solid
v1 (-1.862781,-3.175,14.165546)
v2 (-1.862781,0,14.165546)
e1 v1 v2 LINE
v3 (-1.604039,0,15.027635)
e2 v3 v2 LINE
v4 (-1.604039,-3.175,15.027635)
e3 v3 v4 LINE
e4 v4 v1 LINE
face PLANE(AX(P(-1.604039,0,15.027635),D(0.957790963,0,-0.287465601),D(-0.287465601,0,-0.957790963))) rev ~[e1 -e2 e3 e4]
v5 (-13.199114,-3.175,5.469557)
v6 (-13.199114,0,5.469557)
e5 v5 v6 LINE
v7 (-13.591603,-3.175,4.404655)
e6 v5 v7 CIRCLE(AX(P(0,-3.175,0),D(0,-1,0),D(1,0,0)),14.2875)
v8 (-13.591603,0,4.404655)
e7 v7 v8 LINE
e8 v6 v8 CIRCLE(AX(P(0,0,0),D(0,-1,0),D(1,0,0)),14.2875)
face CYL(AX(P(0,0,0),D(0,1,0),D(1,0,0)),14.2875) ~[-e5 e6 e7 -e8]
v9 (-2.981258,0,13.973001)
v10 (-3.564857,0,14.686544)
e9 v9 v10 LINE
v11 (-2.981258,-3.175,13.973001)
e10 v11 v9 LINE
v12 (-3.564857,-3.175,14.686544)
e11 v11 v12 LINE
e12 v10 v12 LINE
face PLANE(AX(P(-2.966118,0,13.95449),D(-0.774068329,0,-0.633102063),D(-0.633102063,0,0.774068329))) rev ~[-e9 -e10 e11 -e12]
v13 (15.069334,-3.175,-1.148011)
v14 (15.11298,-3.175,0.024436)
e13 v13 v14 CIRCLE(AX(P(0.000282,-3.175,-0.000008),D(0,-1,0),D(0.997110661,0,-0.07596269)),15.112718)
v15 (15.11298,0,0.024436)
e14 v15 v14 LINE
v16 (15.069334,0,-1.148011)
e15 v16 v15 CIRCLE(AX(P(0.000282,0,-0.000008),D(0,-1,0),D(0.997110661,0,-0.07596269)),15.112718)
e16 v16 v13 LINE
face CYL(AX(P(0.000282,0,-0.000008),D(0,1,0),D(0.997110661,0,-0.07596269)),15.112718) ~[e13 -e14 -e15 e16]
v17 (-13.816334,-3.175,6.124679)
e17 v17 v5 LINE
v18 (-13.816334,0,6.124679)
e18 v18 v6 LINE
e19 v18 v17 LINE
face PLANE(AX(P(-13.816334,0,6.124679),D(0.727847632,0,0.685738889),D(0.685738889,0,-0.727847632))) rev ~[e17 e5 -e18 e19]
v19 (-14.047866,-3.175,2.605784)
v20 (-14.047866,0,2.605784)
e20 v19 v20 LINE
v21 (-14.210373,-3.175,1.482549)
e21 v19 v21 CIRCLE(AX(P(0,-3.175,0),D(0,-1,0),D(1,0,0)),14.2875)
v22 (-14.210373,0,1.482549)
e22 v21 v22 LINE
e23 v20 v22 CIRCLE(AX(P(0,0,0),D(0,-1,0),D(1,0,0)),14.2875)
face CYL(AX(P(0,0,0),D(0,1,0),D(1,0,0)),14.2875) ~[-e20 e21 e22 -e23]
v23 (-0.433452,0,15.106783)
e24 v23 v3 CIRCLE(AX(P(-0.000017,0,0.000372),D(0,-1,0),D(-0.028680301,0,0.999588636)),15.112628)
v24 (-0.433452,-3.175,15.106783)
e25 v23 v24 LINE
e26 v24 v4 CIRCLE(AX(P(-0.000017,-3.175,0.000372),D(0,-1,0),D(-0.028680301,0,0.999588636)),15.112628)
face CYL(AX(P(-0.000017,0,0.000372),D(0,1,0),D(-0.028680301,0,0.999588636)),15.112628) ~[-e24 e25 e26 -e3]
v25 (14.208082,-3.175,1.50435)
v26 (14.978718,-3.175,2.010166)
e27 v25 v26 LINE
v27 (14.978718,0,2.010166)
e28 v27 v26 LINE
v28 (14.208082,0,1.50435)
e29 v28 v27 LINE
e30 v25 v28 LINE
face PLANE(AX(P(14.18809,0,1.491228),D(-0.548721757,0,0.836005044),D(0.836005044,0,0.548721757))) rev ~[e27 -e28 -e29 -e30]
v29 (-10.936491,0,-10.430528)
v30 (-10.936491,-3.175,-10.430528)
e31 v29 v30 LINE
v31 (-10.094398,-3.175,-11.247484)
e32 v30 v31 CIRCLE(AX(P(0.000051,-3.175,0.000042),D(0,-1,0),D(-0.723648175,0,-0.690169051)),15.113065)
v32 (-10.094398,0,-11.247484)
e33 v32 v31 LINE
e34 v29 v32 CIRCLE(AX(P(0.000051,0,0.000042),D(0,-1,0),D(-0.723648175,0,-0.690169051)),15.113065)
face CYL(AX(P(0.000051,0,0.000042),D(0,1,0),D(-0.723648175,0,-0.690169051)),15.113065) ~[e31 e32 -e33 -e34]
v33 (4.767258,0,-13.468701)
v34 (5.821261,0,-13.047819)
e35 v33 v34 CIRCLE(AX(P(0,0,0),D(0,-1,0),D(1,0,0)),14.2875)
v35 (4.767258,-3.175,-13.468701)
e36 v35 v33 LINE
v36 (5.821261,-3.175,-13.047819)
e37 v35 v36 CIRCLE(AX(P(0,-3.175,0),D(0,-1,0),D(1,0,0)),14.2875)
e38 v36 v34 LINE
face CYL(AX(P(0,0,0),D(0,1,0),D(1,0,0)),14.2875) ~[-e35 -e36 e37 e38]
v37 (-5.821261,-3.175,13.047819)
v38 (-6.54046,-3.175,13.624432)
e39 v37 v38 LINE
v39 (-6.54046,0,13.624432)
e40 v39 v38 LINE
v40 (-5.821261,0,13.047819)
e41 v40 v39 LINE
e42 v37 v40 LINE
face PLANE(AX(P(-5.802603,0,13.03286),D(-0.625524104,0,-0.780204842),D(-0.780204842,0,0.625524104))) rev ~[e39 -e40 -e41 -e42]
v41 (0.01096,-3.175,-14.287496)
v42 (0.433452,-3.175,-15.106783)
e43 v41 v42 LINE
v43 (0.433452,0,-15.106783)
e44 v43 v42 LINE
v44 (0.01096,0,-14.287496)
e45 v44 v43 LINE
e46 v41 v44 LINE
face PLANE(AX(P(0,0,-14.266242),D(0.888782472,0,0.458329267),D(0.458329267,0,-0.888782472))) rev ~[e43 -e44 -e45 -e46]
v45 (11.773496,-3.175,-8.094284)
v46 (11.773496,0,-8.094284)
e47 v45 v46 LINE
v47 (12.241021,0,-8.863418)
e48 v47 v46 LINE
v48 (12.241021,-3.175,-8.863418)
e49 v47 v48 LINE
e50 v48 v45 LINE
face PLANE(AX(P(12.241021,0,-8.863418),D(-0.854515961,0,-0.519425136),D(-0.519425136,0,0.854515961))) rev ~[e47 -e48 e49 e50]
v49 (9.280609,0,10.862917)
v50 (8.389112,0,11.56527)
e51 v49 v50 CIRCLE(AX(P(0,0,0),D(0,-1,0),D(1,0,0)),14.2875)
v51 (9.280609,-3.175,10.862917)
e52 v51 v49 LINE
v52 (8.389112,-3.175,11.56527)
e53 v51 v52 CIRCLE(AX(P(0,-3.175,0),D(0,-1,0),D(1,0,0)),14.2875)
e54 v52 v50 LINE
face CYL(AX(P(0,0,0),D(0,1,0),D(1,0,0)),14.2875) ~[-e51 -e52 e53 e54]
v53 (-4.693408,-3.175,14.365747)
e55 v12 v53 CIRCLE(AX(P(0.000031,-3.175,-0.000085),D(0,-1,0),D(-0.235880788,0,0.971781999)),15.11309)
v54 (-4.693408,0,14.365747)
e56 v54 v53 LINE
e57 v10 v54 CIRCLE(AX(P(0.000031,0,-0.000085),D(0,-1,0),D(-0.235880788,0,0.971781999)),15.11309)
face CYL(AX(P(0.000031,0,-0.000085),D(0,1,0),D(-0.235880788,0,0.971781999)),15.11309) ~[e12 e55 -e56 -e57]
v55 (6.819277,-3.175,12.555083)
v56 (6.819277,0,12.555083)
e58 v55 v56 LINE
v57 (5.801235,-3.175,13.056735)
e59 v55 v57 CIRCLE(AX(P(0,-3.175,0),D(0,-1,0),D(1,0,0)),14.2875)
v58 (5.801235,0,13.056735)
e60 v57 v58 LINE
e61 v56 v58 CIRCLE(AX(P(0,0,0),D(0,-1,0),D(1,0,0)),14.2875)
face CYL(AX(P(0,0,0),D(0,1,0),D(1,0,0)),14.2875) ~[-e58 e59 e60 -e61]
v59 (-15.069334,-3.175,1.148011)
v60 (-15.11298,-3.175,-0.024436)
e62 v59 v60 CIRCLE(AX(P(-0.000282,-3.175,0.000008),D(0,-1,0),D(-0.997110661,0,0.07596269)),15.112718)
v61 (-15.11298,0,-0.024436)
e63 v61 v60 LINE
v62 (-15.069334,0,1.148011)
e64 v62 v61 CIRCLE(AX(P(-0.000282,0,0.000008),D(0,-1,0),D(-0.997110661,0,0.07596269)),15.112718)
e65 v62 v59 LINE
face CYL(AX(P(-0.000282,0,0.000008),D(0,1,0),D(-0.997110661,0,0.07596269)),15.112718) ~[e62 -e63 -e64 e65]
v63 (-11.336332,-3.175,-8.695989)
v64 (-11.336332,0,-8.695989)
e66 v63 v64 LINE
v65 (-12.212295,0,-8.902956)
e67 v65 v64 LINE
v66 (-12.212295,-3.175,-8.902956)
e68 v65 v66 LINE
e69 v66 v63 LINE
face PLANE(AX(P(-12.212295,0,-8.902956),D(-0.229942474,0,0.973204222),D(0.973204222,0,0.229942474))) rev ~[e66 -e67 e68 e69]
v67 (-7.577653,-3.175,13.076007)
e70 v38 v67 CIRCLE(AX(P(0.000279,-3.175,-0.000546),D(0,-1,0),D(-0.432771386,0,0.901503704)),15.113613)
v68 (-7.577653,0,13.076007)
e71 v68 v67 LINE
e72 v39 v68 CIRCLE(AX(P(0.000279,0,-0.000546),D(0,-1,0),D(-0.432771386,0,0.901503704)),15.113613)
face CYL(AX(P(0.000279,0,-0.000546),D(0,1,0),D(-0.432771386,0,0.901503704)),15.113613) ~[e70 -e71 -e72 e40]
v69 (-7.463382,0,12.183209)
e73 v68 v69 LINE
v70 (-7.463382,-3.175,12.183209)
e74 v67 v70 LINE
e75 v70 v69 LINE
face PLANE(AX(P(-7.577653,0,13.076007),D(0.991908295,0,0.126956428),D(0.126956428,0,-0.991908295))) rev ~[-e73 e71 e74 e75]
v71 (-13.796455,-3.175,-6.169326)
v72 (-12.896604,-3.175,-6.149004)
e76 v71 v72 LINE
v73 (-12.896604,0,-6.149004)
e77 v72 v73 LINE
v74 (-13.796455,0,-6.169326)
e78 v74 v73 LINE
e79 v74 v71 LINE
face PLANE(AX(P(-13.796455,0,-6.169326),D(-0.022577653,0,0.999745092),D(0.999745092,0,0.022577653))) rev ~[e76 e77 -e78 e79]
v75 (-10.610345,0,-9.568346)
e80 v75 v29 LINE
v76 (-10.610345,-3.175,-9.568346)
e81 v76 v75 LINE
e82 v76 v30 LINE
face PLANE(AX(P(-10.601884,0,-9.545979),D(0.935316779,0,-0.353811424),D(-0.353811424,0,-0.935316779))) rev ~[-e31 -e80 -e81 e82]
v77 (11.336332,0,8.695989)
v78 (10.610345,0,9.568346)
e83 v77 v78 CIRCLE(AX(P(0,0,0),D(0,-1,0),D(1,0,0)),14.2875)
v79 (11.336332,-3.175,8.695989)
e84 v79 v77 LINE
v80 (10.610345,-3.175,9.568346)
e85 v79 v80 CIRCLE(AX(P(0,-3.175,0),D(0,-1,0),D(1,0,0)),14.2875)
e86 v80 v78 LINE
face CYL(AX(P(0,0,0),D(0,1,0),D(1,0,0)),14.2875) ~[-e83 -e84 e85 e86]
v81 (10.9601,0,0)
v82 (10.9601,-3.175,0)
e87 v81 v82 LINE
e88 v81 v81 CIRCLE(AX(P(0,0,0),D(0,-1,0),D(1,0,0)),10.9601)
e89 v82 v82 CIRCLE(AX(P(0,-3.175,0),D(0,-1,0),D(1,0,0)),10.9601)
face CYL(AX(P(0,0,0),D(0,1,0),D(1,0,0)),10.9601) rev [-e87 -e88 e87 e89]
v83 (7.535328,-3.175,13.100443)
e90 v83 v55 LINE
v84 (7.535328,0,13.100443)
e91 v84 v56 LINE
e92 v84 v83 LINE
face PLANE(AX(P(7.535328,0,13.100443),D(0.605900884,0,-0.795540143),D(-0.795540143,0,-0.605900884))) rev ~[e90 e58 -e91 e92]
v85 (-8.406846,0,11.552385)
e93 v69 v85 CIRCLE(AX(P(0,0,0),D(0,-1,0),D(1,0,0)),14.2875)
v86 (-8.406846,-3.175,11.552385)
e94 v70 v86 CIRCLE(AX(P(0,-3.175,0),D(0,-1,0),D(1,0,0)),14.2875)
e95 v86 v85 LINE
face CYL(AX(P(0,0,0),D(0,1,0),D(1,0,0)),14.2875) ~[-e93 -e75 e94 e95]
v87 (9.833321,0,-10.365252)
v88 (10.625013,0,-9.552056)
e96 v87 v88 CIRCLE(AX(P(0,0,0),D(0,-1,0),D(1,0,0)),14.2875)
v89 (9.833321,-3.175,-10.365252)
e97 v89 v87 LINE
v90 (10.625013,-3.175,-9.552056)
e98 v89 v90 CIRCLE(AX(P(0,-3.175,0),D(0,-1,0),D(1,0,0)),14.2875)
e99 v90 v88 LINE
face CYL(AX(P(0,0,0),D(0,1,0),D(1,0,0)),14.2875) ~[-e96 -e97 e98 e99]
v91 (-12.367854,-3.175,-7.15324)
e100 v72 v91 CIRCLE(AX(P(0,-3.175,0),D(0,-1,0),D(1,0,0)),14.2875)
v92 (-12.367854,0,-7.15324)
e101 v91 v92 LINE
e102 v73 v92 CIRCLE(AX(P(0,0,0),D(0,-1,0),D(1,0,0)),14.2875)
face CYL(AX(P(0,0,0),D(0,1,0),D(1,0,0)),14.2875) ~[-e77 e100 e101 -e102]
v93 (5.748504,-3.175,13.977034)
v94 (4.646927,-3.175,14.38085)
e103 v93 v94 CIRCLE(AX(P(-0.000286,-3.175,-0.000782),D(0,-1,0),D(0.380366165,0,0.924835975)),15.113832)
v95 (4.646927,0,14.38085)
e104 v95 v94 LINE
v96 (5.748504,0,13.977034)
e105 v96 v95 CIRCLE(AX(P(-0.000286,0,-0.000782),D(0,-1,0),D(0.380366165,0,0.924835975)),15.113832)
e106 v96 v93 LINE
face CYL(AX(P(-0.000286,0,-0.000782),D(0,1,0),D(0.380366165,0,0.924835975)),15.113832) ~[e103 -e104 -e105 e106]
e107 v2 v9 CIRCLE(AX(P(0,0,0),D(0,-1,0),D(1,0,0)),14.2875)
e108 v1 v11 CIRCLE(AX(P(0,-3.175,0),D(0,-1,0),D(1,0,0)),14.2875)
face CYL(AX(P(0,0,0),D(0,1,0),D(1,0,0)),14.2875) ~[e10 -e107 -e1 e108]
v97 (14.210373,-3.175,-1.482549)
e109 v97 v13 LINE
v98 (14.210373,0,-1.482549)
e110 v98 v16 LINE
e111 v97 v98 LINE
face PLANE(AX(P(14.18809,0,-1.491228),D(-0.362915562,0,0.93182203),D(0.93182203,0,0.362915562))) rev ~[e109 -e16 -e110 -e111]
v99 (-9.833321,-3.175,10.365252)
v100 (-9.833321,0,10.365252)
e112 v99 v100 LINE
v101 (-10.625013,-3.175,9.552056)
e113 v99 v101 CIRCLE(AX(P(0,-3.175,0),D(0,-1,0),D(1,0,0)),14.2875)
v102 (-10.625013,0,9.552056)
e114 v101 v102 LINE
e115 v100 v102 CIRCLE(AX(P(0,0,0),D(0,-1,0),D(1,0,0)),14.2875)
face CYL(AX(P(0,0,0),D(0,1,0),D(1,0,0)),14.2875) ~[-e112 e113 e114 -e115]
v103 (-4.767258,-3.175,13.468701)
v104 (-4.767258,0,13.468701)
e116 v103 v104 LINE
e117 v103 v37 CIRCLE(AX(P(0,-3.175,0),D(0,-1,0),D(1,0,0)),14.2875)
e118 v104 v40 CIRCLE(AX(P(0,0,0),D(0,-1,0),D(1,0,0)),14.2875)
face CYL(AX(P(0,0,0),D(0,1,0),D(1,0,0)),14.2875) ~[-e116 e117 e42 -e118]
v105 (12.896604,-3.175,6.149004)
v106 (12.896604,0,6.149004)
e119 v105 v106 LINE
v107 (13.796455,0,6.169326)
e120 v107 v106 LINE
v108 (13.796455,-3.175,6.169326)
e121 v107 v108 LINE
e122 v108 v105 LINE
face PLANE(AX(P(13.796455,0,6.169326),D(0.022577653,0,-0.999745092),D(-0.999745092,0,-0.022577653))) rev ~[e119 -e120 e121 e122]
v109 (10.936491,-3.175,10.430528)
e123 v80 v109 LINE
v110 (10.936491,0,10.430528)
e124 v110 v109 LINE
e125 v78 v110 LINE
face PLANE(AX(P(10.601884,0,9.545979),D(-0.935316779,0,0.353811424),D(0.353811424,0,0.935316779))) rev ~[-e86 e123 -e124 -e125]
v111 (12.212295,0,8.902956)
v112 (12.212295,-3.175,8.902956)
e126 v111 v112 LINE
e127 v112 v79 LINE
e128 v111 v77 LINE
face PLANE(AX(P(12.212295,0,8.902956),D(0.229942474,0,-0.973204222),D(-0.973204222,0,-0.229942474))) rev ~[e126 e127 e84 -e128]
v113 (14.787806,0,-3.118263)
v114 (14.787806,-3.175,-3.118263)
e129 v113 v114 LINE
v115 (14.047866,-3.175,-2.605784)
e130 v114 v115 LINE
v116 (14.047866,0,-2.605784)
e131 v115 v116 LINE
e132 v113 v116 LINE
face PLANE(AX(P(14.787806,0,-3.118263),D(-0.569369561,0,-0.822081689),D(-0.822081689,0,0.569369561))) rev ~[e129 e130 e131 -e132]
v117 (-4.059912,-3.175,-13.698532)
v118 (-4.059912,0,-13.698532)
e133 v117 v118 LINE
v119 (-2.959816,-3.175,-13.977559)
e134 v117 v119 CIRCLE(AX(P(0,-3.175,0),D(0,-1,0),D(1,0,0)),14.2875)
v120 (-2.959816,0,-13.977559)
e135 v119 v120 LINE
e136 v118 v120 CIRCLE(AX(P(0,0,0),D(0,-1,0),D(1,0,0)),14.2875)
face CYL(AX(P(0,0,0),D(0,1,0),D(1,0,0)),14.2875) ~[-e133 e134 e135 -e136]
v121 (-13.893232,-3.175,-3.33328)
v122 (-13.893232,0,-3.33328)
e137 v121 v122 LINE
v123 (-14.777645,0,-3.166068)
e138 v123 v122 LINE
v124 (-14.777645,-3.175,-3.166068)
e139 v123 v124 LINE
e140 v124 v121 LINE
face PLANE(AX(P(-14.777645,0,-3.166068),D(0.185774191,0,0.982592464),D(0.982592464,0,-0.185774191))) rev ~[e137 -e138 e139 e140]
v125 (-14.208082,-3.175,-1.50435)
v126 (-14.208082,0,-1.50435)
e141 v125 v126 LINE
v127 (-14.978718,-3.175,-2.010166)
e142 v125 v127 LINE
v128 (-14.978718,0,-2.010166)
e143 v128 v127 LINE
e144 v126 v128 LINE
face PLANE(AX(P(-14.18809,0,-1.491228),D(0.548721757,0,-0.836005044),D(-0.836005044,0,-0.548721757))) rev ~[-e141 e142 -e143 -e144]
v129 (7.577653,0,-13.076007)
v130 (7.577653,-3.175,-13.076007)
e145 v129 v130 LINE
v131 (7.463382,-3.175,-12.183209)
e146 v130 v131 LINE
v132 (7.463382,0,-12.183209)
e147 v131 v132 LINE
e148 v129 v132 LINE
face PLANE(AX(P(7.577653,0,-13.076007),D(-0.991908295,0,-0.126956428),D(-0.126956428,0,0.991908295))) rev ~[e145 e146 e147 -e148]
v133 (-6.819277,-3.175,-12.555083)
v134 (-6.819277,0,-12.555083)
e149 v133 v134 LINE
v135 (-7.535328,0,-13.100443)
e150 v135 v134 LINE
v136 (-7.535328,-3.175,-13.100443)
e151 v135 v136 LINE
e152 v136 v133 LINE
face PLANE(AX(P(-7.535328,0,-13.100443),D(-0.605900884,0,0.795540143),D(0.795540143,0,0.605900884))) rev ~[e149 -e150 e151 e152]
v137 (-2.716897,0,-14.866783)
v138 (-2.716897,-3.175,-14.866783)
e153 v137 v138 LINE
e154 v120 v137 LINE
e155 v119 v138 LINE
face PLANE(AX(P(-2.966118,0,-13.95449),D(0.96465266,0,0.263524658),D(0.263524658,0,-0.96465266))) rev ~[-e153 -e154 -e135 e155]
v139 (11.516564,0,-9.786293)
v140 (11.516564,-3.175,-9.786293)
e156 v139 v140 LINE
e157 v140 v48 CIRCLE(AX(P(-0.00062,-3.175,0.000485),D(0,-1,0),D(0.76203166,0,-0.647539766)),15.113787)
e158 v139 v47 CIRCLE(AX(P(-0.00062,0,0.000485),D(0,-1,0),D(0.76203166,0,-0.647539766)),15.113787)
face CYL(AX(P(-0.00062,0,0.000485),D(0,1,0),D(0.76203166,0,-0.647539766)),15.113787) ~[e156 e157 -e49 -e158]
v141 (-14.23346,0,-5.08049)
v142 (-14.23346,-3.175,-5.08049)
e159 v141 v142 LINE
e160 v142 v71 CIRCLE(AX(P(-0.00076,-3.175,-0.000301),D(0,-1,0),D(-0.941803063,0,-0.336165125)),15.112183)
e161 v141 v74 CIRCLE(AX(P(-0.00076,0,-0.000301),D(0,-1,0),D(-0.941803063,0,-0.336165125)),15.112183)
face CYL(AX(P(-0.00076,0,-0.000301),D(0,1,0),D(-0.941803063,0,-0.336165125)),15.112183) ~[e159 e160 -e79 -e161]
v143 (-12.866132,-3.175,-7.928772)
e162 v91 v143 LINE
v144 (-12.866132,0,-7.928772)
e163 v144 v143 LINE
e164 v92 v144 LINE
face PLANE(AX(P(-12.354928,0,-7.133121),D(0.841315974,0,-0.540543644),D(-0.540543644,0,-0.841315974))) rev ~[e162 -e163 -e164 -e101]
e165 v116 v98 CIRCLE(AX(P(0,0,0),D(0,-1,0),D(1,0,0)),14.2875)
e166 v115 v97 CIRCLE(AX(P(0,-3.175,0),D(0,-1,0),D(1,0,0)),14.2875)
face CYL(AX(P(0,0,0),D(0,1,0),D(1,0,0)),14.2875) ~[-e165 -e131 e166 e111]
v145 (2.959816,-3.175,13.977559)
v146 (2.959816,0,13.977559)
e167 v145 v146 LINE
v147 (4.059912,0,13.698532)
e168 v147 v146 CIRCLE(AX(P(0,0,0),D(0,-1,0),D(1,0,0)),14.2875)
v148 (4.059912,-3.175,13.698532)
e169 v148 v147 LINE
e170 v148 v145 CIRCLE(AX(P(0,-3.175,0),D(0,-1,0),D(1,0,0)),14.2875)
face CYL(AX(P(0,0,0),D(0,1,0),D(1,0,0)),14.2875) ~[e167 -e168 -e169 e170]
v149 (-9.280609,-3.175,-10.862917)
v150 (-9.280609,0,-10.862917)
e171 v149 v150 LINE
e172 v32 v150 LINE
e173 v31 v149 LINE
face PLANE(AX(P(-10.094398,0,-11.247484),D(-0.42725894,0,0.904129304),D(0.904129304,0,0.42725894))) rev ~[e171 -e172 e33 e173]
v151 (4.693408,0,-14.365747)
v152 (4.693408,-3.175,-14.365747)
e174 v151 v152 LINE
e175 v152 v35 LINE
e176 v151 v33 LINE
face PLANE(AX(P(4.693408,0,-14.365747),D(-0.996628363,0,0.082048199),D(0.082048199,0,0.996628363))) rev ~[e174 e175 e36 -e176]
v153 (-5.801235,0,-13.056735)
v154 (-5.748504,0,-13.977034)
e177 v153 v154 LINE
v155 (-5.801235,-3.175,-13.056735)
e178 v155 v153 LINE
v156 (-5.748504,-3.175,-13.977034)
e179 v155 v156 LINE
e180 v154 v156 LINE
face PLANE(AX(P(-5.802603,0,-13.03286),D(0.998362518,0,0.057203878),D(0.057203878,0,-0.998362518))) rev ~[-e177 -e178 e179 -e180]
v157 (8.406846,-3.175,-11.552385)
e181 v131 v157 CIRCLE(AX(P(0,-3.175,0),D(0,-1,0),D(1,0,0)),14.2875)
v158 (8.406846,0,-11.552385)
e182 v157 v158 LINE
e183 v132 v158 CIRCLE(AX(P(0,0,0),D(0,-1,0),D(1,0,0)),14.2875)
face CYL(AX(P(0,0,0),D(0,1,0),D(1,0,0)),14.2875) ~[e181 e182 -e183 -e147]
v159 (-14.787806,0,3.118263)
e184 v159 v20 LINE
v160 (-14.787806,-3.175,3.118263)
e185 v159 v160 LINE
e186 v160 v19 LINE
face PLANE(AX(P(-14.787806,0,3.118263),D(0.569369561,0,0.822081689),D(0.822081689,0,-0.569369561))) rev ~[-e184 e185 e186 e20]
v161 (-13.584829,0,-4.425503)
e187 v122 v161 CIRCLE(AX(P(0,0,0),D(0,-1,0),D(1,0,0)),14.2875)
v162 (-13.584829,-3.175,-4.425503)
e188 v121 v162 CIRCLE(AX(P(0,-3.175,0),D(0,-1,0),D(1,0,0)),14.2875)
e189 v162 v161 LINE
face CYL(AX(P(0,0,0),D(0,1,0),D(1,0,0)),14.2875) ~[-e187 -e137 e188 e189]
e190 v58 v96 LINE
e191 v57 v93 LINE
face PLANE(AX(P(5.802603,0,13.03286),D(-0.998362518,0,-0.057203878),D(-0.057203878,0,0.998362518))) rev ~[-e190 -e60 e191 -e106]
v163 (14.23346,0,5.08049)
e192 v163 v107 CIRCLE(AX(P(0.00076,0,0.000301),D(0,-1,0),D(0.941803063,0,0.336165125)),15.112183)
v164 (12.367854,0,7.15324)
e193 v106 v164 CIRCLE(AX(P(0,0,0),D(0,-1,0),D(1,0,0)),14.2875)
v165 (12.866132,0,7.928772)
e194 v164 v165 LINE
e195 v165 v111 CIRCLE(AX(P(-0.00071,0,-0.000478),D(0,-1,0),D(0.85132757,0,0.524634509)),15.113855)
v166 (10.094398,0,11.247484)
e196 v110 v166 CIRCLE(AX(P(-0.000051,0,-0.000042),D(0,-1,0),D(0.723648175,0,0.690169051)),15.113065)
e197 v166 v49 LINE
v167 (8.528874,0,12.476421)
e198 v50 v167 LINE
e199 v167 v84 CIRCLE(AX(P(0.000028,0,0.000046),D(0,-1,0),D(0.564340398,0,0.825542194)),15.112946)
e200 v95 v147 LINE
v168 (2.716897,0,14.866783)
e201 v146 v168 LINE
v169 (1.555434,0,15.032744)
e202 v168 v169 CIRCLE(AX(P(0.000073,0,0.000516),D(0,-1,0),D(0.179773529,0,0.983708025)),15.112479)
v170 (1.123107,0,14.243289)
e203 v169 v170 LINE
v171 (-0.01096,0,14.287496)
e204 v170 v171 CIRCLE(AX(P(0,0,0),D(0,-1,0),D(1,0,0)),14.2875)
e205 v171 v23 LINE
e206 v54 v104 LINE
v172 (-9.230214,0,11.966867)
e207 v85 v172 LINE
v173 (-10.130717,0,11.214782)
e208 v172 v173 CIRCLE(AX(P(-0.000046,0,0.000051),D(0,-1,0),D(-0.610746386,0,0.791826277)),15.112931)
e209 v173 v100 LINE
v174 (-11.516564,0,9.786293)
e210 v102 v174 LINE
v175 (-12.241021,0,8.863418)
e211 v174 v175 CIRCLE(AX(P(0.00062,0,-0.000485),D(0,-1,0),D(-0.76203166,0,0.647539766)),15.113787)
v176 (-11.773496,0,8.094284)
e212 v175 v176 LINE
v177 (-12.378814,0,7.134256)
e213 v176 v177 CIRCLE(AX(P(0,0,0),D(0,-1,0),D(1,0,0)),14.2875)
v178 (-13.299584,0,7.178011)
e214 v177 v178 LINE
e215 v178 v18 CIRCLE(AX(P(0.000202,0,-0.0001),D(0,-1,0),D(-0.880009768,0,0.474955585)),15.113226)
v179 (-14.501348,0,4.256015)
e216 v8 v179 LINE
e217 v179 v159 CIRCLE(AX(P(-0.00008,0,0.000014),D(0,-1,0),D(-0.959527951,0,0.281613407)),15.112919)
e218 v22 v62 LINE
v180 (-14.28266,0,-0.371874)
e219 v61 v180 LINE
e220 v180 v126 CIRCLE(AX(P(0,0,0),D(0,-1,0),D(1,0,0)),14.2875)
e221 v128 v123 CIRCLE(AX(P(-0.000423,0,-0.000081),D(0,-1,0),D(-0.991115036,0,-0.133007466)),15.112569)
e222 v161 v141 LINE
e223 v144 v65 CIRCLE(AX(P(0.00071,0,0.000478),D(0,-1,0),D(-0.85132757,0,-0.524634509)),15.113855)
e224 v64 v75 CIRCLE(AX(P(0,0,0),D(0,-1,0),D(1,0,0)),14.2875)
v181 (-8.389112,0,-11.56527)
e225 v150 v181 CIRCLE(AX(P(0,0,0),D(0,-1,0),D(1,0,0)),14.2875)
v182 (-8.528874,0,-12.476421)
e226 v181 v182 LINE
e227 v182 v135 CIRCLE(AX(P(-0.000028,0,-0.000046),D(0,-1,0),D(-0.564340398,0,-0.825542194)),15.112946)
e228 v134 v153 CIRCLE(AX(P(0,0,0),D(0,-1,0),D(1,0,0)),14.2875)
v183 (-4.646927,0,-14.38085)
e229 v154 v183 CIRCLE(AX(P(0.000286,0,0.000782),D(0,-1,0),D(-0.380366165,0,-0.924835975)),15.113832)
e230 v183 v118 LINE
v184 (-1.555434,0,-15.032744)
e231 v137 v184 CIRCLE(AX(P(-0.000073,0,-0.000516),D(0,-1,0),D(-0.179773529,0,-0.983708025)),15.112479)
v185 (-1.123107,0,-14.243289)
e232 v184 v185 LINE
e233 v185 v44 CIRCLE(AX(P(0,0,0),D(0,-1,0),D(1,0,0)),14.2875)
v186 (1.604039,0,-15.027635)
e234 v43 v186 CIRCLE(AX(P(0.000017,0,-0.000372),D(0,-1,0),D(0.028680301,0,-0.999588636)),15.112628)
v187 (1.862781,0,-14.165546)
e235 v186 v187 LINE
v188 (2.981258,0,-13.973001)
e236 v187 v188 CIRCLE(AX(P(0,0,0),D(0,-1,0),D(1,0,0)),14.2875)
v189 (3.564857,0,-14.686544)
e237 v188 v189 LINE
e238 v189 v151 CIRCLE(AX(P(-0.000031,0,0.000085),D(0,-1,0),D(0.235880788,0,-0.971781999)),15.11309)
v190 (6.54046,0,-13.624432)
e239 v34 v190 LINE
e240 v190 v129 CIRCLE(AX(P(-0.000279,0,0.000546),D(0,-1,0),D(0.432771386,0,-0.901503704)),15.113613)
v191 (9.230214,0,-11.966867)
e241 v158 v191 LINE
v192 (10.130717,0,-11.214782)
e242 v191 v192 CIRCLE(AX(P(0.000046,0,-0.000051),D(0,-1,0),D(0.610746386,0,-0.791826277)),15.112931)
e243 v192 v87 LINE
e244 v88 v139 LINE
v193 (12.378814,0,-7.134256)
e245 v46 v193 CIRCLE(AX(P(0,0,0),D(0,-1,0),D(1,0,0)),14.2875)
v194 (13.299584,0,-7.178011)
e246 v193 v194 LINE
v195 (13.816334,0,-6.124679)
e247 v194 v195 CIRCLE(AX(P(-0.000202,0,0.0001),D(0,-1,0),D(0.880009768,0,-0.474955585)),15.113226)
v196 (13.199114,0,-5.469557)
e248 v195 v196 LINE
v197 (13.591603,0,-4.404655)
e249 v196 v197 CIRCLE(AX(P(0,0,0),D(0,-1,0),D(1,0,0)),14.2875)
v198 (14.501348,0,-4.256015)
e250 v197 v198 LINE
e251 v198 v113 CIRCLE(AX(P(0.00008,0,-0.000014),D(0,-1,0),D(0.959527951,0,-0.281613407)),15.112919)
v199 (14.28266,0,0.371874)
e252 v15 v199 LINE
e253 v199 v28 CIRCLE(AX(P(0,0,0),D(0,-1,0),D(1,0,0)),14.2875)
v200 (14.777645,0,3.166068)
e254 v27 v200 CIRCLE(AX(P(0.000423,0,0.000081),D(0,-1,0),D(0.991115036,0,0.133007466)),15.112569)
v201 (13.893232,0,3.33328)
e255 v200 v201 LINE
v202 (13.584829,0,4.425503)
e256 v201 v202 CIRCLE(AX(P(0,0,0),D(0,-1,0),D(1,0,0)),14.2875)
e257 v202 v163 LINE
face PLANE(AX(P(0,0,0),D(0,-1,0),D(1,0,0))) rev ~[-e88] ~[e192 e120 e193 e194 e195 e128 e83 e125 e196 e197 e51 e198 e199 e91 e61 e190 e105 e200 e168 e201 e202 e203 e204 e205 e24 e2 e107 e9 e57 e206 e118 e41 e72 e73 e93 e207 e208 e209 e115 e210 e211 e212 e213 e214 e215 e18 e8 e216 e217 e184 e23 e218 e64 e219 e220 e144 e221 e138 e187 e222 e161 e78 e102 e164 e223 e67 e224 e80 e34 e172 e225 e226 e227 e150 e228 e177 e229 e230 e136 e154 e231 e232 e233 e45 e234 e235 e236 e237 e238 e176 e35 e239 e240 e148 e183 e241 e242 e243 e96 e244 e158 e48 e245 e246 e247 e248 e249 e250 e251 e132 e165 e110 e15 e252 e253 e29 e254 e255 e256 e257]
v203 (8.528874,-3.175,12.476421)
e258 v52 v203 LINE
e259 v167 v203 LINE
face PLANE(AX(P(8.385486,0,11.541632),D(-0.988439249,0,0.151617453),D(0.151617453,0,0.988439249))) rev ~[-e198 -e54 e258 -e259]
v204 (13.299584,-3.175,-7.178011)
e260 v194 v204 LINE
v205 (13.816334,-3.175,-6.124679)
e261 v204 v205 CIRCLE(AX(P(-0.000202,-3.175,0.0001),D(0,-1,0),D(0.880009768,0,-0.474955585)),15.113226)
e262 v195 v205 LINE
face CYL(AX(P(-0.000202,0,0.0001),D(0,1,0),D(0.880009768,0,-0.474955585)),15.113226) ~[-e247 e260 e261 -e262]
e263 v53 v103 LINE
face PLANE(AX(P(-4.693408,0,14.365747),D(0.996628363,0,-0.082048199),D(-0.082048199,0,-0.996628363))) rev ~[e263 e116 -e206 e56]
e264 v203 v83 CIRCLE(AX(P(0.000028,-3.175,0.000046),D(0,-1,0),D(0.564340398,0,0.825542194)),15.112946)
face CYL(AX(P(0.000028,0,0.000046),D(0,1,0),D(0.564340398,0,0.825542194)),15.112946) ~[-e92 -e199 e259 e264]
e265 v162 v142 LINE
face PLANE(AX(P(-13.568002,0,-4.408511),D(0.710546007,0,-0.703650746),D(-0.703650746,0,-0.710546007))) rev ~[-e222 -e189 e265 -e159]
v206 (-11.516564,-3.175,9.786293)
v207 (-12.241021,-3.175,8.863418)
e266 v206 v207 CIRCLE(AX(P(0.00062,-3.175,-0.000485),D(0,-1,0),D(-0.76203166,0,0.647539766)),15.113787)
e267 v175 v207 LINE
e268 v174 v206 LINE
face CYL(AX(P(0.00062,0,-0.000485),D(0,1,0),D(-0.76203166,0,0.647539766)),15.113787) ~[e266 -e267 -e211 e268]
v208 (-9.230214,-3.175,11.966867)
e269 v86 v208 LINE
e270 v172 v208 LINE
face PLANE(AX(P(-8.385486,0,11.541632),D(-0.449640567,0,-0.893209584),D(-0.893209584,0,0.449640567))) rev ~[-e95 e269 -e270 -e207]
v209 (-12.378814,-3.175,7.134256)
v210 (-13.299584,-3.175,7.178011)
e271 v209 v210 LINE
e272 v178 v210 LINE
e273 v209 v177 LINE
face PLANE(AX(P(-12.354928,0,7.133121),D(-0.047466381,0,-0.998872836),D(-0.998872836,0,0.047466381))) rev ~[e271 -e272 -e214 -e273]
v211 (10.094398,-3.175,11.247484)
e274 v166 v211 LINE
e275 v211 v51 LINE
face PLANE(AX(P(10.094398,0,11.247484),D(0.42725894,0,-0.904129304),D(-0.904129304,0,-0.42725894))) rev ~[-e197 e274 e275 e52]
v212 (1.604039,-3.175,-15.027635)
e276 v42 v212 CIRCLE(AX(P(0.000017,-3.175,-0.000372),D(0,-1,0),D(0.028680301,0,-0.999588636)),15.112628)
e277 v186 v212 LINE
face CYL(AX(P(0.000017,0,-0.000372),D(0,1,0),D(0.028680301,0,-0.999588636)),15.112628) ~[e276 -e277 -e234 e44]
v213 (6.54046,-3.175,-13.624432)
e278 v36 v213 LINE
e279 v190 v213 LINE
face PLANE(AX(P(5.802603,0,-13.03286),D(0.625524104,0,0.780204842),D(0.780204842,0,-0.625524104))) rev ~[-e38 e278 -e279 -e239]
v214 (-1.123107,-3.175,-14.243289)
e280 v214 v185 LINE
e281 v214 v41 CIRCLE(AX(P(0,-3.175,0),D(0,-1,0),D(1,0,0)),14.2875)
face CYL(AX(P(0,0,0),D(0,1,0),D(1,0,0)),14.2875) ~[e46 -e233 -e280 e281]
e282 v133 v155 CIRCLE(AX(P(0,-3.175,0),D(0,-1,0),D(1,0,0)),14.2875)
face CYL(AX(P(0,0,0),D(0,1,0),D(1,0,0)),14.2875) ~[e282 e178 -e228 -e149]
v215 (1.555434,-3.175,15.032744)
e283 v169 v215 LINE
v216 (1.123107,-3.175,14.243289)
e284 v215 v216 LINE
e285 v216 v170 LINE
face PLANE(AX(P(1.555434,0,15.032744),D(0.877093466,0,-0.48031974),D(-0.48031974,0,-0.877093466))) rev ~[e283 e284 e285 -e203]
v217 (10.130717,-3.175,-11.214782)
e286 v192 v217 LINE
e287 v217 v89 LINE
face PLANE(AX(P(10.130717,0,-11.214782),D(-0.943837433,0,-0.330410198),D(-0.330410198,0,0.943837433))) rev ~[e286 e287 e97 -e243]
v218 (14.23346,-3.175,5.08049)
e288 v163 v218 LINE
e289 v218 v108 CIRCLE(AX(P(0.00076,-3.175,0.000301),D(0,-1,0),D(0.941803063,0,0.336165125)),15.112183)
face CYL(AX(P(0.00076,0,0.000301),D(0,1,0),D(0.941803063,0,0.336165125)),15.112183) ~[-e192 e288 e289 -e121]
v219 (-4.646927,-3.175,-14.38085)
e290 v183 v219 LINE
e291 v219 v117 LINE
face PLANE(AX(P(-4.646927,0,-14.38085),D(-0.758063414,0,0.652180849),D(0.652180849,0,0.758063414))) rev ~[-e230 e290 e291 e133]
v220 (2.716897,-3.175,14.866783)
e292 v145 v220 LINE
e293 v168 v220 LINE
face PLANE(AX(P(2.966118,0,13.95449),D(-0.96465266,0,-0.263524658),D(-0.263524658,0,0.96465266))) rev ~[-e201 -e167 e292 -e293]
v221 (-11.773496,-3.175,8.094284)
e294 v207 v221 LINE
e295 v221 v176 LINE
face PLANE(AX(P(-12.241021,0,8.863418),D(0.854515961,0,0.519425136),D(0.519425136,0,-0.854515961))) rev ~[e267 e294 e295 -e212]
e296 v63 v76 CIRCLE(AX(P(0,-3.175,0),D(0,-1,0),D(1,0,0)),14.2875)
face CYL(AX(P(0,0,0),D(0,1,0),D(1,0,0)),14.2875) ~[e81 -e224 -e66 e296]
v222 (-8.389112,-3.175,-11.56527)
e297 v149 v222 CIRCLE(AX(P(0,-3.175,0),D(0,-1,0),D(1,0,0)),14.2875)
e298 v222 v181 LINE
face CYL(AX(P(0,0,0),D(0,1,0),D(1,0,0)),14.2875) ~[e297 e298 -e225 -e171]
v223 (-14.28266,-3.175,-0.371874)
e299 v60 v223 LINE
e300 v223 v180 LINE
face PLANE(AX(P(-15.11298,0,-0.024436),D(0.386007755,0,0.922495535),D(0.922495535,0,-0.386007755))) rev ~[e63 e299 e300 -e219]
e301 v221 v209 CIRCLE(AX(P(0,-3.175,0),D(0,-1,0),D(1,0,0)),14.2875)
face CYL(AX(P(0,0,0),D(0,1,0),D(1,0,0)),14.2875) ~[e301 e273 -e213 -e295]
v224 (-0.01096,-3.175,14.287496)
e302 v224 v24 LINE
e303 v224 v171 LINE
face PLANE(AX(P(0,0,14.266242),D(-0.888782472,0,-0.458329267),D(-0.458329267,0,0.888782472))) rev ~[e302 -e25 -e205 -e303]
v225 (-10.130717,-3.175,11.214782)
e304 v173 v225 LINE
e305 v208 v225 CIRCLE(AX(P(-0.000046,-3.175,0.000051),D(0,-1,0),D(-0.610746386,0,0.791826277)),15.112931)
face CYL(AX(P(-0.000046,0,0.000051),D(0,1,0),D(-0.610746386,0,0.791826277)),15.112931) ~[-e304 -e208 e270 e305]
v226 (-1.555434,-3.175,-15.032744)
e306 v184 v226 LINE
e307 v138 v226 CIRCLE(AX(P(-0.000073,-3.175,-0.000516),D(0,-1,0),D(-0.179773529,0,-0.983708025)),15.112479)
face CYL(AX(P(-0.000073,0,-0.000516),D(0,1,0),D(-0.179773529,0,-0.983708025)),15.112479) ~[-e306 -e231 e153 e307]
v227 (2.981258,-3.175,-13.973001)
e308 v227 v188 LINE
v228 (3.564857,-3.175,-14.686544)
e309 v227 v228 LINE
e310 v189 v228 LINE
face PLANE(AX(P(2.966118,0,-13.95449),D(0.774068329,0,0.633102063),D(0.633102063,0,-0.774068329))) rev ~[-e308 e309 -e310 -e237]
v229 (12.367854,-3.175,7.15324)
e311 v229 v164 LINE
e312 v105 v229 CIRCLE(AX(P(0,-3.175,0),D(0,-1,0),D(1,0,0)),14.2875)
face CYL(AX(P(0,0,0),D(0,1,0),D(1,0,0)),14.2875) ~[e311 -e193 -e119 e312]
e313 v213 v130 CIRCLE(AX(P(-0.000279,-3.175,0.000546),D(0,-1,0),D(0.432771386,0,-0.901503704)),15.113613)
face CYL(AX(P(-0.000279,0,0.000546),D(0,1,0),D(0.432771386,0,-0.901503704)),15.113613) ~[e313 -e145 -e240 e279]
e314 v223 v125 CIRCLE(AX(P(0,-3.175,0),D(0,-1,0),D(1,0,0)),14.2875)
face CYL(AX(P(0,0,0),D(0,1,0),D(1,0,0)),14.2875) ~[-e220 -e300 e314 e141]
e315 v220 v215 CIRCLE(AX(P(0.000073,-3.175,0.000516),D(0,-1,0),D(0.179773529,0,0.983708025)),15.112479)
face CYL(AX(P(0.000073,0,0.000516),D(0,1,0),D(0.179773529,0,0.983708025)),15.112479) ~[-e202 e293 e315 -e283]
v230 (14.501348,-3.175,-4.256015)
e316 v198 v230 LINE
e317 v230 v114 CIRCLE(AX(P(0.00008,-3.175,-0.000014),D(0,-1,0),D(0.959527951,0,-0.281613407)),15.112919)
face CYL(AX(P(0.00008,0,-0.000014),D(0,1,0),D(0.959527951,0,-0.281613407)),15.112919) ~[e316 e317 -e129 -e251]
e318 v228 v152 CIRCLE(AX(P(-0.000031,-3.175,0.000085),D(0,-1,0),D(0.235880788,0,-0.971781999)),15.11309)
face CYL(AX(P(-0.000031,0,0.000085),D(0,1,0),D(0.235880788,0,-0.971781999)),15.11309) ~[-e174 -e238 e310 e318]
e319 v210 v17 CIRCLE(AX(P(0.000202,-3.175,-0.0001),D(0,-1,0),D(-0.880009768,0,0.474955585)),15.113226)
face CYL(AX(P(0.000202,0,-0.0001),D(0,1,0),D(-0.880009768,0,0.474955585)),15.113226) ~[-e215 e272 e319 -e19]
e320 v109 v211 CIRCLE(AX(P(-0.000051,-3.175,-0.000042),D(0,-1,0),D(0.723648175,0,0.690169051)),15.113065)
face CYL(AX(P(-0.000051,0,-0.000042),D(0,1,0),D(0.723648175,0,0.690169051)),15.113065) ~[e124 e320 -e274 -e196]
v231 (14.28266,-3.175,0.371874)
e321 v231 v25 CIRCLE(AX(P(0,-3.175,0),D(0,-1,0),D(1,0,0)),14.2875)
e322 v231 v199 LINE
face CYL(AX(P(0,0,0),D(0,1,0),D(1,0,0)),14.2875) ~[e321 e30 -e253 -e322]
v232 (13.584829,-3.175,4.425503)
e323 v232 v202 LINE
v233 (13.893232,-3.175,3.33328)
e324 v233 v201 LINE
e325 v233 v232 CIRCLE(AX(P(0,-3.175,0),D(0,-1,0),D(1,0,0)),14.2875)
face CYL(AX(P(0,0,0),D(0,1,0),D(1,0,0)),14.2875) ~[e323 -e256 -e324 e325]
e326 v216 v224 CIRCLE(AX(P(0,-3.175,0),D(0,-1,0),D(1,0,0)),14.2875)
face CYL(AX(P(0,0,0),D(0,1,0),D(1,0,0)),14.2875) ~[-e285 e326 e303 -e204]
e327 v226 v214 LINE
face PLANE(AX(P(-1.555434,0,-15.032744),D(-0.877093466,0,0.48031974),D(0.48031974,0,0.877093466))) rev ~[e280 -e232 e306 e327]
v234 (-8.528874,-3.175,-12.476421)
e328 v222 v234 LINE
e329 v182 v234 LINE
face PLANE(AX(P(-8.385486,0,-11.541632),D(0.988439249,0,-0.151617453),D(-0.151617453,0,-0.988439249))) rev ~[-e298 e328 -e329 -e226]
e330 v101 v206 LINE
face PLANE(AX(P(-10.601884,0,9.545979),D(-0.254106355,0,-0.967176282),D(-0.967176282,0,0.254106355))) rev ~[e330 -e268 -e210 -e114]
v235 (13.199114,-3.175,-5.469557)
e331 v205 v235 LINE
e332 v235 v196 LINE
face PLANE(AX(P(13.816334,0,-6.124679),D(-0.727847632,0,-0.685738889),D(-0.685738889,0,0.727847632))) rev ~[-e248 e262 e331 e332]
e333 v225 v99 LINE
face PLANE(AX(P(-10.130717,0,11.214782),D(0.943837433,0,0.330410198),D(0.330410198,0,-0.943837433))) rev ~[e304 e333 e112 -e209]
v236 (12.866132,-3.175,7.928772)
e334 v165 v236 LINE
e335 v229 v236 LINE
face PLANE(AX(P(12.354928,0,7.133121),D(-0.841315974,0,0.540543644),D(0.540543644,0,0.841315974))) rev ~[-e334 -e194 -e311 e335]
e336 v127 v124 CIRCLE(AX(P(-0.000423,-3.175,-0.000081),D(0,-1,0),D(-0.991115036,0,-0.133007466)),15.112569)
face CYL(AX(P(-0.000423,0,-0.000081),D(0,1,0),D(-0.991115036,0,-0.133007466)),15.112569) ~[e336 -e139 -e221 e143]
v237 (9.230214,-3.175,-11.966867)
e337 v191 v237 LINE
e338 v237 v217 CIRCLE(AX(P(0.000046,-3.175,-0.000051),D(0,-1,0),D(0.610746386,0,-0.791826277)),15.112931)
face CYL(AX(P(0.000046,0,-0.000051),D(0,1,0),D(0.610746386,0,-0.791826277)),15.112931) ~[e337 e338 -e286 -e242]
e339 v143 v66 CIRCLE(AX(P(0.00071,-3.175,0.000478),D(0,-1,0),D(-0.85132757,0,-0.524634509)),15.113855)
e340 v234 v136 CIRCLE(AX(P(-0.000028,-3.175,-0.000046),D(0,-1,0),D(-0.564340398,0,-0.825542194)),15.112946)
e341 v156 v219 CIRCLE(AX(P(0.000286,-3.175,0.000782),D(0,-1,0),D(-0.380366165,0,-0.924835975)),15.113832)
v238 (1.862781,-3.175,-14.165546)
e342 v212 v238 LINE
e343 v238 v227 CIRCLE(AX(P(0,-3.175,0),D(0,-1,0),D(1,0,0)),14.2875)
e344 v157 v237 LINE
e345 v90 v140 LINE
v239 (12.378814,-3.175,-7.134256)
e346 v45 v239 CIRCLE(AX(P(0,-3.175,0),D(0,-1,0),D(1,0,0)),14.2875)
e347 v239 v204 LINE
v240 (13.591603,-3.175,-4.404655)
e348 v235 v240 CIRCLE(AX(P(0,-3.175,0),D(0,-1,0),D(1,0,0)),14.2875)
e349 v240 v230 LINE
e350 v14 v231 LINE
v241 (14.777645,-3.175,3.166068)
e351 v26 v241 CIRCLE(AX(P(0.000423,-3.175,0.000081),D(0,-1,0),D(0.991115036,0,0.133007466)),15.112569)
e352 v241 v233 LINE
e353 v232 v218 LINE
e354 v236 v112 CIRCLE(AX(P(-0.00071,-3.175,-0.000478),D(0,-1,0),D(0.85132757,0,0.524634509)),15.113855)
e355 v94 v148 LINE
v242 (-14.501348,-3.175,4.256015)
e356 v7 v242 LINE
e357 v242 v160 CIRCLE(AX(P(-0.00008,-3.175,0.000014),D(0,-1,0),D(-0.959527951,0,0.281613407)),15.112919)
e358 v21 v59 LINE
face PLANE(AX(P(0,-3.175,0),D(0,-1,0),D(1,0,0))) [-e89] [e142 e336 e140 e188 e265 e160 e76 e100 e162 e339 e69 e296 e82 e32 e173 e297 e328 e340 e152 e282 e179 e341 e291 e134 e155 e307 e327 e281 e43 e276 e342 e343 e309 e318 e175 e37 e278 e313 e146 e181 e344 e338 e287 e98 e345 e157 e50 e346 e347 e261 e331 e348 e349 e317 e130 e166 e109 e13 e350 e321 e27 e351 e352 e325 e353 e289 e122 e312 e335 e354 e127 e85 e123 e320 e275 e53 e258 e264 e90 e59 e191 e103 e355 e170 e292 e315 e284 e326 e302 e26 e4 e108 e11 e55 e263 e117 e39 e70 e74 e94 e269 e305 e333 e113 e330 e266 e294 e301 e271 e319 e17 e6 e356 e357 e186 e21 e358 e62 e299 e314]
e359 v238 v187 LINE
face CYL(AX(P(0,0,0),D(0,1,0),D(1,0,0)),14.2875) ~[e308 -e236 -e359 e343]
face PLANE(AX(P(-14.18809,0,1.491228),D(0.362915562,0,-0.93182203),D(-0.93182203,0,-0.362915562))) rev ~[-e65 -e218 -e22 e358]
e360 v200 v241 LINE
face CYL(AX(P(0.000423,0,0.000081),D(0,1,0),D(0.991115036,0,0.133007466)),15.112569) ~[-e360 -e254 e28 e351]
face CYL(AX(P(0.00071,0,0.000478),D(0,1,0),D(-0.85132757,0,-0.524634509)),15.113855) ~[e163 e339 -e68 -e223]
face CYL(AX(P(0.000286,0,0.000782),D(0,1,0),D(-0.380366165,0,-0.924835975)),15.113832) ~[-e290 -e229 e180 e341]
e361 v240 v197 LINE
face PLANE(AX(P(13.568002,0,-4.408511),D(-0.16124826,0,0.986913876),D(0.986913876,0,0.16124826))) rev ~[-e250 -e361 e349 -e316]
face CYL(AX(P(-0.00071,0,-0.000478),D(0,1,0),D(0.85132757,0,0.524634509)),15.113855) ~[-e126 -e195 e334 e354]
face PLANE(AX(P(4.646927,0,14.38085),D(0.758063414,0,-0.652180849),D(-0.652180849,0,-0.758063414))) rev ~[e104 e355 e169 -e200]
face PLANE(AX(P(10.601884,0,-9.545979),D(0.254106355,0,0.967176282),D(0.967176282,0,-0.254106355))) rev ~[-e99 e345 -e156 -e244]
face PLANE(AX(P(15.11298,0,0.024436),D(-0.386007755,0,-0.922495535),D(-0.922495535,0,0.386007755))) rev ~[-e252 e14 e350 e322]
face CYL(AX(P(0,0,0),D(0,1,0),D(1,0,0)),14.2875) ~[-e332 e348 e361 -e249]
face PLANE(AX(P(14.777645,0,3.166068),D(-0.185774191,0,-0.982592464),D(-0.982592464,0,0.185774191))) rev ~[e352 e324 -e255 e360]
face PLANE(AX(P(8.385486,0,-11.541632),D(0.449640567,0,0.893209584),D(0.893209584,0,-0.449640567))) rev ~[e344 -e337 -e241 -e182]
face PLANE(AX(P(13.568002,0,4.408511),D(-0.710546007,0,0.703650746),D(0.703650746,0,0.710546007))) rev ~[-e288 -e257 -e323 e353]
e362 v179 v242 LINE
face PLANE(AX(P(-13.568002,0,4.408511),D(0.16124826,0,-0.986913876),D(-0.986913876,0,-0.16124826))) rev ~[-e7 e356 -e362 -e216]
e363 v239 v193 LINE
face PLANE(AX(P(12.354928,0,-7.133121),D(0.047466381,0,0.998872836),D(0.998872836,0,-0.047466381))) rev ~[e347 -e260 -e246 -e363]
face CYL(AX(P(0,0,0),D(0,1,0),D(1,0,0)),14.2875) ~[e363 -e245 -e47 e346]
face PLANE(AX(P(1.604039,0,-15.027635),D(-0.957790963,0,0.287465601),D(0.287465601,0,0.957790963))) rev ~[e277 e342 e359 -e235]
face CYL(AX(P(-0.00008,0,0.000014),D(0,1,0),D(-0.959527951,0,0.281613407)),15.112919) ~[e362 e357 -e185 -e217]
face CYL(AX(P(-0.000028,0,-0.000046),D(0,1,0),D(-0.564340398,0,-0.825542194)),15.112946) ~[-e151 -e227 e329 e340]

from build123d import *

# Parameters (mm, degrees)
F0_R     = 14.2875
F0_R_2   = 10.9601
F1_DEPTH = 3.175
F3_DEPTH = 3.175


with BuildPart() as f1:
    # F0 (on Front) → F1 (new body)
    with BuildSketch(Plane.XZ):
        Circle(F0_R)
        Circle(F0_R_2, mode=Mode.SUBTRACT)
    extrude(amount=F1_DEPTH)

    # F2 (on Front) → F3 (join, through all)
    with BuildSketch(Plane.XZ):
        with BuildLine():
            Line((0, 14.266242), (-0.433452, 15.106783))
            ThreePointArc((-0.433452, 15.106783), (-1.019514, 15.078573), (-1.604039, 15.027635))
            Line((-1.604039, 15.027635), (-1.897302, 14.050528))
            Line((-1.897302, 14.050528), (0, 14.266242))
        make_face()
        with BuildLine():
            ThreePointArc((-3.564857, 14.686544), (-4.132247, 14.537101), (-4.693408, 14.365747))
            Line((-4.693408, 14.365747), (-4.777111, 13.349018))
            Line((-4.777111, 13.349018), (-2.966118, 13.95449))
            Line((-2.966118, 13.95449), (-3.564857, 14.686544))
        make_face()
        with BuildLine():
            ThreePointArc((-6.54046, 13.624432), (-7.06438, 13.360288), (-7.577653, 13.076007))
            Line((-7.577653, 13.076007), (-7.448136, 12.064093))
            Line((-7.448136, 12.064093), (-5.802603, 13.03286))
            Line((-5.802603, 13.03286), (-6.54046, 13.624432))
        make_face()
        with BuildLine():
            ThreePointArc((-9.230214, 11.966867), (-9.687767, 11.599566), (-10.130717, 11.214782))
            Line((-10.130717, 11.214782), (-9.793643, 10.251909))
            Line((-9.793643, 10.251909), (-8.385486, 11.541632))
            Line((-8.385486, 11.541632), (-9.230214, 11.966867))
        make_face()
        with BuildLine():
            ThreePointArc((-11.516564, 9.786293), (-11.887751, 9.331888), (-12.241021, 8.863418))
            Line((-12.241021, 8.863418), (-11.71112, 7.991668))
            Line((-11.71112, 7.991668), (-10.601884, 9.545979))
            Line((-10.601884, 9.545979), (-11.516564, 9.786293))
        make_face()
        with BuildLine():
            ThreePointArc((-13.299584, 7.178011), (-13.568184, 6.656362), (-13.816334, 6.124679))
            Line((-13.816334, 6.124679), (-13.116765, 5.382152))
            Line((-13.116765, 5.382152), (-12.354928, 7.133121))
            Line((-12.354928, 7.133121), (-13.299584, 7.178011))
        make_face()
        with BuildLine():
            ThreePointArc((-14.501348, 4.256015), (-14.655622, 3.68992), (-14.787806, 3.118263))
            Line((-14.787806, 3.118263), (-13.949144, 2.53741))
            Line((-13.949144, 2.53741), (-13.568002, 4.408511))
            Line((-13.568002, 4.408511), (-14.501348, 4.256015))
        make_face()
        with BuildLine():
            ThreePointArc((-15.069334, 1.148011), (-15.102539, 0.562211), (-15.11298, -0.024436))
            Line((-15.11298, -0.024436), (-14.171879, -0.418229))
            Line((-14.171879, -0.418229), (-14.18809, 1.491228))
            Line((-14.18809, 1.491228), (-15.069334, 1.148011))
        make_face()
        with BuildLine():
            ThreePointArc((-14.978718, -2.010166), (-14.889403, -2.590069), (-14.777645, -3.166068))
            Line((-14.777645, -3.166068), (-13.775235, -3.355589))
            Line((-13.775235, -3.355589), (-14.18809, -1.491228))
            Line((-14.18809, -1.491228), (-14.978718, -2.010166))
        make_face()
        with BuildLine():
            ThreePointArc((-14.23346, -5.08049), (-14.025528, -5.629151), (-13.796455, -6.169326))
            Line((-13.796455, -6.169326), (-12.776547, -6.146293))
            Line((-12.776547, -6.146293), (-13.568002, -4.408511))
            Line((-13.568002, -4.408511), (-14.23346, -5.08049))
        make_face()
        with BuildLine():
            ThreePointArc((-12.866132, -7.928772), (-12.54867, -8.422211), (-12.212295, -8.902956))
            Line((-12.212295, -8.902956), (-11.219463, -8.668376))
            Line((-11.219463, -8.668376), (-12.354928, -7.133121))
            Line((-12.354928, -7.133121), (-12.866132, -7.928772))
        make_face()
        with BuildLine():
            ThreePointArc((-10.936491, -10.430528), (-10.523375, -10.847181), (-10.094398, -11.247484))
            Line((-10.094398, -11.247484), (-9.172034, -10.811608))
            Line((-9.172034, -10.811608), (-10.601884, -9.545979))
            Line((-10.601884, -9.545979), (-10.936491, -10.430528))
        make_face()
        with BuildLine():
            ThreePointArc((-8.528874, -12.476421), (-8.038159, -12.798077), (-7.535328, -13.100443))
            Line((-7.535328, -13.100443), (-6.723743, -12.482322))
            Line((-6.723743, -12.482322), (-8.385486, -11.541632))
            Line((-8.385486, -11.541632), (-8.528874, -12.476421))
        make_face()
        with BuildLine():
            ThreePointArc((-5.748504, -13.977034), (-5.201636, -14.189635), (-4.646927, -14.38085))
            Line((-4.646927, -14.38085), (-3.981593, -13.607498))
            Line((-3.981593, -13.607498), (-5.802603, -13.03286))
            Line((-5.802603, -13.03286), (-5.748504, -13.977034))
        make_face()
        with BuildLine():
            ThreePointArc((-2.716897, -14.866783), (-2.137777, -14.961039), (-1.555434, -15.032744))
            Line((-1.555434, -15.032744), (-1.065427, -14.137961))
            Line((-1.065427, -14.137961), (-2.966118, -13.95449))
            Line((-2.966118, -13.95449), (-2.716897, -14.866783))
        make_face()
        with BuildLine():
            ThreePointArc((0.433452, -15.106783), (1.019514, -15.078573), (1.604039, -15.027635))
            Line((1.604039, -15.027635), (1.897302, -14.050528))
            Line((1.897302, -14.050528), (0, -14.266242))
            Line((0, -14.266242), (0.433452, -15.106783))
        make_face()
        with BuildLine():
            ThreePointArc((3.564857, -14.686544), (4.132247, -14.537101), (4.693408, -14.365747))
            Line((4.693408, -14.365747), (4.777111, -13.349018))
            Line((4.777111, -13.349018), (2.966118, -13.95449))
            Line((2.966118, -13.95449), (3.564857, -14.686544))
        make_face()
        with BuildLine():
            ThreePointArc((6.54046, -13.624432), (7.06438, -13.360288), (7.577653, -13.076007))
            Line((7.577653, -13.076007), (7.448136, -12.064093))
            Line((7.448136, -12.064093), (5.802603, -13.03286))
            Line((5.802603, -13.03286), (6.54046, -13.624432))
        make_face()
        with BuildLine():
            ThreePointArc((9.230214, -11.966867), (9.687767, -11.599566), (10.130717, -11.214782))
            Line((10.130717, -11.214782), (9.793643, -10.251909))
            Line((9.793643, -10.251909), (8.385486, -11.541632))
            Line((8.385486, -11.541632), (9.230214, -11.966867))
        make_face()
        with BuildLine():
            ThreePointArc((11.516564, -9.786293), (11.887751, -9.331888), (12.241021, -8.863418))
            Line((12.241021, -8.863418), (11.71112, -7.991668))
            Line((11.71112, -7.991668), (10.601884, -9.545979))
            Line((10.601884, -9.545979), (11.516564, -9.786293))
        make_face()
        with BuildLine():
            ThreePointArc((13.299584, -7.178011), (13.568184, -6.656362), (13.816334, -6.124679))
            Line((13.816334, -6.124679), (13.116765, -5.382152))
            Line((13.116765, -5.382152), (12.354928, -7.133121))
            Line((12.354928, -7.133121), (13.299584, -7.178011))
        make_face()
        with BuildLine():
            ThreePointArc((14.501348, -4.256015), (14.655622, -3.68992), (14.787806, -3.118263))
            Line((14.787806, -3.118263), (13.949144, -2.53741))
            Line((13.949144, -2.53741), (13.568002, -4.408511))
            Line((13.568002, -4.408511), (14.501348, -4.256015))
        make_face()
        with BuildLine():
            ThreePointArc((15.069334, -1.148011), (15.102539, -0.562211), (15.11298, 0.024436))
            Line((15.11298, 0.024436), (14.171879, 0.418229))
            Line((14.171879, 0.418229), (14.18809, -1.491228))
            Line((14.18809, -1.491228), (15.069334, -1.148011))
        make_face()
        with BuildLine():
            ThreePointArc((14.978718, 2.010166), (14.889403, 2.590069), (14.777645, 3.166068))
            Line((14.777645, 3.166068), (13.775235, 3.355589))
            Line((13.775235, 3.355589), (14.18809, 1.491228))
            Line((14.18809, 1.491228), (14.978718, 2.010166))
        make_face()
        with BuildLine():
            ThreePointArc((14.23346, 5.08049), (14.025528, 5.629151), (13.796455, 6.169326))
            Line((13.796455, 6.169326), (12.776547, 6.146293))
            Line((12.776547, 6.146293), (13.568002, 4.408511))
            Line((13.568002, 4.408511), (14.23346, 5.08049))
        make_face()
        with BuildLine():
            ThreePointArc((12.866132, 7.928772), (12.54867, 8.422211), (12.212295, 8.902956))
            Line((12.212295, 8.902956), (11.219463, 8.668376))
            Line((11.219463, 8.668376), (12.354928, 7.133121))
            Line((12.354928, 7.133121), (12.866132, 7.928772))
        make_face()
        with BuildLine():
            ThreePointArc((10.936491, 10.430528), (10.523375, 10.847181), (10.094398, 11.247484))
            Line((10.094398, 11.247484), (9.172034, 10.811608))
            Line((9.172034, 10.811608), (10.601884, 9.545979))
            Line((10.601884, 9.545979), (10.936491, 10.430528))
        make_face()
        with BuildLine():
            ThreePointArc((8.528874, 12.476421), (8.038159, 12.798077), (7.535328, 13.100443))
            Line((7.535328, 13.100443), (6.723743, 12.482322))
            Line((6.723743, 12.482322), (8.385486, 11.541632))
            Line((8.385486, 11.541632), (8.528874, 12.476421))
        make_face()
        with BuildLine():
            ThreePointArc((5.748504, 13.977034), (5.201636, 14.189635), (4.646927, 14.38085))
            Line((4.646927, 14.38085), (3.981593, 13.607498))
            Line((3.981593, 13.607498), (5.802603, 13.03286))
            Line((5.802603, 13.03286), (5.748504, 13.977034))
        make_face()
        with BuildLine():
            ThreePointArc((2.716897, 14.866783), (2.137777, 14.961039), (1.555434, 15.032744))
            Line((1.555434, 15.032744), (1.065427, 14.137961))
            Line((1.065427, 14.137961), (2.966118, 13.95449))
            Line((2.966118, 13.95449), (2.716897, 14.866783))
        make_face()
    extrude(amount=F3_DEPTH)


solid = f1.part
